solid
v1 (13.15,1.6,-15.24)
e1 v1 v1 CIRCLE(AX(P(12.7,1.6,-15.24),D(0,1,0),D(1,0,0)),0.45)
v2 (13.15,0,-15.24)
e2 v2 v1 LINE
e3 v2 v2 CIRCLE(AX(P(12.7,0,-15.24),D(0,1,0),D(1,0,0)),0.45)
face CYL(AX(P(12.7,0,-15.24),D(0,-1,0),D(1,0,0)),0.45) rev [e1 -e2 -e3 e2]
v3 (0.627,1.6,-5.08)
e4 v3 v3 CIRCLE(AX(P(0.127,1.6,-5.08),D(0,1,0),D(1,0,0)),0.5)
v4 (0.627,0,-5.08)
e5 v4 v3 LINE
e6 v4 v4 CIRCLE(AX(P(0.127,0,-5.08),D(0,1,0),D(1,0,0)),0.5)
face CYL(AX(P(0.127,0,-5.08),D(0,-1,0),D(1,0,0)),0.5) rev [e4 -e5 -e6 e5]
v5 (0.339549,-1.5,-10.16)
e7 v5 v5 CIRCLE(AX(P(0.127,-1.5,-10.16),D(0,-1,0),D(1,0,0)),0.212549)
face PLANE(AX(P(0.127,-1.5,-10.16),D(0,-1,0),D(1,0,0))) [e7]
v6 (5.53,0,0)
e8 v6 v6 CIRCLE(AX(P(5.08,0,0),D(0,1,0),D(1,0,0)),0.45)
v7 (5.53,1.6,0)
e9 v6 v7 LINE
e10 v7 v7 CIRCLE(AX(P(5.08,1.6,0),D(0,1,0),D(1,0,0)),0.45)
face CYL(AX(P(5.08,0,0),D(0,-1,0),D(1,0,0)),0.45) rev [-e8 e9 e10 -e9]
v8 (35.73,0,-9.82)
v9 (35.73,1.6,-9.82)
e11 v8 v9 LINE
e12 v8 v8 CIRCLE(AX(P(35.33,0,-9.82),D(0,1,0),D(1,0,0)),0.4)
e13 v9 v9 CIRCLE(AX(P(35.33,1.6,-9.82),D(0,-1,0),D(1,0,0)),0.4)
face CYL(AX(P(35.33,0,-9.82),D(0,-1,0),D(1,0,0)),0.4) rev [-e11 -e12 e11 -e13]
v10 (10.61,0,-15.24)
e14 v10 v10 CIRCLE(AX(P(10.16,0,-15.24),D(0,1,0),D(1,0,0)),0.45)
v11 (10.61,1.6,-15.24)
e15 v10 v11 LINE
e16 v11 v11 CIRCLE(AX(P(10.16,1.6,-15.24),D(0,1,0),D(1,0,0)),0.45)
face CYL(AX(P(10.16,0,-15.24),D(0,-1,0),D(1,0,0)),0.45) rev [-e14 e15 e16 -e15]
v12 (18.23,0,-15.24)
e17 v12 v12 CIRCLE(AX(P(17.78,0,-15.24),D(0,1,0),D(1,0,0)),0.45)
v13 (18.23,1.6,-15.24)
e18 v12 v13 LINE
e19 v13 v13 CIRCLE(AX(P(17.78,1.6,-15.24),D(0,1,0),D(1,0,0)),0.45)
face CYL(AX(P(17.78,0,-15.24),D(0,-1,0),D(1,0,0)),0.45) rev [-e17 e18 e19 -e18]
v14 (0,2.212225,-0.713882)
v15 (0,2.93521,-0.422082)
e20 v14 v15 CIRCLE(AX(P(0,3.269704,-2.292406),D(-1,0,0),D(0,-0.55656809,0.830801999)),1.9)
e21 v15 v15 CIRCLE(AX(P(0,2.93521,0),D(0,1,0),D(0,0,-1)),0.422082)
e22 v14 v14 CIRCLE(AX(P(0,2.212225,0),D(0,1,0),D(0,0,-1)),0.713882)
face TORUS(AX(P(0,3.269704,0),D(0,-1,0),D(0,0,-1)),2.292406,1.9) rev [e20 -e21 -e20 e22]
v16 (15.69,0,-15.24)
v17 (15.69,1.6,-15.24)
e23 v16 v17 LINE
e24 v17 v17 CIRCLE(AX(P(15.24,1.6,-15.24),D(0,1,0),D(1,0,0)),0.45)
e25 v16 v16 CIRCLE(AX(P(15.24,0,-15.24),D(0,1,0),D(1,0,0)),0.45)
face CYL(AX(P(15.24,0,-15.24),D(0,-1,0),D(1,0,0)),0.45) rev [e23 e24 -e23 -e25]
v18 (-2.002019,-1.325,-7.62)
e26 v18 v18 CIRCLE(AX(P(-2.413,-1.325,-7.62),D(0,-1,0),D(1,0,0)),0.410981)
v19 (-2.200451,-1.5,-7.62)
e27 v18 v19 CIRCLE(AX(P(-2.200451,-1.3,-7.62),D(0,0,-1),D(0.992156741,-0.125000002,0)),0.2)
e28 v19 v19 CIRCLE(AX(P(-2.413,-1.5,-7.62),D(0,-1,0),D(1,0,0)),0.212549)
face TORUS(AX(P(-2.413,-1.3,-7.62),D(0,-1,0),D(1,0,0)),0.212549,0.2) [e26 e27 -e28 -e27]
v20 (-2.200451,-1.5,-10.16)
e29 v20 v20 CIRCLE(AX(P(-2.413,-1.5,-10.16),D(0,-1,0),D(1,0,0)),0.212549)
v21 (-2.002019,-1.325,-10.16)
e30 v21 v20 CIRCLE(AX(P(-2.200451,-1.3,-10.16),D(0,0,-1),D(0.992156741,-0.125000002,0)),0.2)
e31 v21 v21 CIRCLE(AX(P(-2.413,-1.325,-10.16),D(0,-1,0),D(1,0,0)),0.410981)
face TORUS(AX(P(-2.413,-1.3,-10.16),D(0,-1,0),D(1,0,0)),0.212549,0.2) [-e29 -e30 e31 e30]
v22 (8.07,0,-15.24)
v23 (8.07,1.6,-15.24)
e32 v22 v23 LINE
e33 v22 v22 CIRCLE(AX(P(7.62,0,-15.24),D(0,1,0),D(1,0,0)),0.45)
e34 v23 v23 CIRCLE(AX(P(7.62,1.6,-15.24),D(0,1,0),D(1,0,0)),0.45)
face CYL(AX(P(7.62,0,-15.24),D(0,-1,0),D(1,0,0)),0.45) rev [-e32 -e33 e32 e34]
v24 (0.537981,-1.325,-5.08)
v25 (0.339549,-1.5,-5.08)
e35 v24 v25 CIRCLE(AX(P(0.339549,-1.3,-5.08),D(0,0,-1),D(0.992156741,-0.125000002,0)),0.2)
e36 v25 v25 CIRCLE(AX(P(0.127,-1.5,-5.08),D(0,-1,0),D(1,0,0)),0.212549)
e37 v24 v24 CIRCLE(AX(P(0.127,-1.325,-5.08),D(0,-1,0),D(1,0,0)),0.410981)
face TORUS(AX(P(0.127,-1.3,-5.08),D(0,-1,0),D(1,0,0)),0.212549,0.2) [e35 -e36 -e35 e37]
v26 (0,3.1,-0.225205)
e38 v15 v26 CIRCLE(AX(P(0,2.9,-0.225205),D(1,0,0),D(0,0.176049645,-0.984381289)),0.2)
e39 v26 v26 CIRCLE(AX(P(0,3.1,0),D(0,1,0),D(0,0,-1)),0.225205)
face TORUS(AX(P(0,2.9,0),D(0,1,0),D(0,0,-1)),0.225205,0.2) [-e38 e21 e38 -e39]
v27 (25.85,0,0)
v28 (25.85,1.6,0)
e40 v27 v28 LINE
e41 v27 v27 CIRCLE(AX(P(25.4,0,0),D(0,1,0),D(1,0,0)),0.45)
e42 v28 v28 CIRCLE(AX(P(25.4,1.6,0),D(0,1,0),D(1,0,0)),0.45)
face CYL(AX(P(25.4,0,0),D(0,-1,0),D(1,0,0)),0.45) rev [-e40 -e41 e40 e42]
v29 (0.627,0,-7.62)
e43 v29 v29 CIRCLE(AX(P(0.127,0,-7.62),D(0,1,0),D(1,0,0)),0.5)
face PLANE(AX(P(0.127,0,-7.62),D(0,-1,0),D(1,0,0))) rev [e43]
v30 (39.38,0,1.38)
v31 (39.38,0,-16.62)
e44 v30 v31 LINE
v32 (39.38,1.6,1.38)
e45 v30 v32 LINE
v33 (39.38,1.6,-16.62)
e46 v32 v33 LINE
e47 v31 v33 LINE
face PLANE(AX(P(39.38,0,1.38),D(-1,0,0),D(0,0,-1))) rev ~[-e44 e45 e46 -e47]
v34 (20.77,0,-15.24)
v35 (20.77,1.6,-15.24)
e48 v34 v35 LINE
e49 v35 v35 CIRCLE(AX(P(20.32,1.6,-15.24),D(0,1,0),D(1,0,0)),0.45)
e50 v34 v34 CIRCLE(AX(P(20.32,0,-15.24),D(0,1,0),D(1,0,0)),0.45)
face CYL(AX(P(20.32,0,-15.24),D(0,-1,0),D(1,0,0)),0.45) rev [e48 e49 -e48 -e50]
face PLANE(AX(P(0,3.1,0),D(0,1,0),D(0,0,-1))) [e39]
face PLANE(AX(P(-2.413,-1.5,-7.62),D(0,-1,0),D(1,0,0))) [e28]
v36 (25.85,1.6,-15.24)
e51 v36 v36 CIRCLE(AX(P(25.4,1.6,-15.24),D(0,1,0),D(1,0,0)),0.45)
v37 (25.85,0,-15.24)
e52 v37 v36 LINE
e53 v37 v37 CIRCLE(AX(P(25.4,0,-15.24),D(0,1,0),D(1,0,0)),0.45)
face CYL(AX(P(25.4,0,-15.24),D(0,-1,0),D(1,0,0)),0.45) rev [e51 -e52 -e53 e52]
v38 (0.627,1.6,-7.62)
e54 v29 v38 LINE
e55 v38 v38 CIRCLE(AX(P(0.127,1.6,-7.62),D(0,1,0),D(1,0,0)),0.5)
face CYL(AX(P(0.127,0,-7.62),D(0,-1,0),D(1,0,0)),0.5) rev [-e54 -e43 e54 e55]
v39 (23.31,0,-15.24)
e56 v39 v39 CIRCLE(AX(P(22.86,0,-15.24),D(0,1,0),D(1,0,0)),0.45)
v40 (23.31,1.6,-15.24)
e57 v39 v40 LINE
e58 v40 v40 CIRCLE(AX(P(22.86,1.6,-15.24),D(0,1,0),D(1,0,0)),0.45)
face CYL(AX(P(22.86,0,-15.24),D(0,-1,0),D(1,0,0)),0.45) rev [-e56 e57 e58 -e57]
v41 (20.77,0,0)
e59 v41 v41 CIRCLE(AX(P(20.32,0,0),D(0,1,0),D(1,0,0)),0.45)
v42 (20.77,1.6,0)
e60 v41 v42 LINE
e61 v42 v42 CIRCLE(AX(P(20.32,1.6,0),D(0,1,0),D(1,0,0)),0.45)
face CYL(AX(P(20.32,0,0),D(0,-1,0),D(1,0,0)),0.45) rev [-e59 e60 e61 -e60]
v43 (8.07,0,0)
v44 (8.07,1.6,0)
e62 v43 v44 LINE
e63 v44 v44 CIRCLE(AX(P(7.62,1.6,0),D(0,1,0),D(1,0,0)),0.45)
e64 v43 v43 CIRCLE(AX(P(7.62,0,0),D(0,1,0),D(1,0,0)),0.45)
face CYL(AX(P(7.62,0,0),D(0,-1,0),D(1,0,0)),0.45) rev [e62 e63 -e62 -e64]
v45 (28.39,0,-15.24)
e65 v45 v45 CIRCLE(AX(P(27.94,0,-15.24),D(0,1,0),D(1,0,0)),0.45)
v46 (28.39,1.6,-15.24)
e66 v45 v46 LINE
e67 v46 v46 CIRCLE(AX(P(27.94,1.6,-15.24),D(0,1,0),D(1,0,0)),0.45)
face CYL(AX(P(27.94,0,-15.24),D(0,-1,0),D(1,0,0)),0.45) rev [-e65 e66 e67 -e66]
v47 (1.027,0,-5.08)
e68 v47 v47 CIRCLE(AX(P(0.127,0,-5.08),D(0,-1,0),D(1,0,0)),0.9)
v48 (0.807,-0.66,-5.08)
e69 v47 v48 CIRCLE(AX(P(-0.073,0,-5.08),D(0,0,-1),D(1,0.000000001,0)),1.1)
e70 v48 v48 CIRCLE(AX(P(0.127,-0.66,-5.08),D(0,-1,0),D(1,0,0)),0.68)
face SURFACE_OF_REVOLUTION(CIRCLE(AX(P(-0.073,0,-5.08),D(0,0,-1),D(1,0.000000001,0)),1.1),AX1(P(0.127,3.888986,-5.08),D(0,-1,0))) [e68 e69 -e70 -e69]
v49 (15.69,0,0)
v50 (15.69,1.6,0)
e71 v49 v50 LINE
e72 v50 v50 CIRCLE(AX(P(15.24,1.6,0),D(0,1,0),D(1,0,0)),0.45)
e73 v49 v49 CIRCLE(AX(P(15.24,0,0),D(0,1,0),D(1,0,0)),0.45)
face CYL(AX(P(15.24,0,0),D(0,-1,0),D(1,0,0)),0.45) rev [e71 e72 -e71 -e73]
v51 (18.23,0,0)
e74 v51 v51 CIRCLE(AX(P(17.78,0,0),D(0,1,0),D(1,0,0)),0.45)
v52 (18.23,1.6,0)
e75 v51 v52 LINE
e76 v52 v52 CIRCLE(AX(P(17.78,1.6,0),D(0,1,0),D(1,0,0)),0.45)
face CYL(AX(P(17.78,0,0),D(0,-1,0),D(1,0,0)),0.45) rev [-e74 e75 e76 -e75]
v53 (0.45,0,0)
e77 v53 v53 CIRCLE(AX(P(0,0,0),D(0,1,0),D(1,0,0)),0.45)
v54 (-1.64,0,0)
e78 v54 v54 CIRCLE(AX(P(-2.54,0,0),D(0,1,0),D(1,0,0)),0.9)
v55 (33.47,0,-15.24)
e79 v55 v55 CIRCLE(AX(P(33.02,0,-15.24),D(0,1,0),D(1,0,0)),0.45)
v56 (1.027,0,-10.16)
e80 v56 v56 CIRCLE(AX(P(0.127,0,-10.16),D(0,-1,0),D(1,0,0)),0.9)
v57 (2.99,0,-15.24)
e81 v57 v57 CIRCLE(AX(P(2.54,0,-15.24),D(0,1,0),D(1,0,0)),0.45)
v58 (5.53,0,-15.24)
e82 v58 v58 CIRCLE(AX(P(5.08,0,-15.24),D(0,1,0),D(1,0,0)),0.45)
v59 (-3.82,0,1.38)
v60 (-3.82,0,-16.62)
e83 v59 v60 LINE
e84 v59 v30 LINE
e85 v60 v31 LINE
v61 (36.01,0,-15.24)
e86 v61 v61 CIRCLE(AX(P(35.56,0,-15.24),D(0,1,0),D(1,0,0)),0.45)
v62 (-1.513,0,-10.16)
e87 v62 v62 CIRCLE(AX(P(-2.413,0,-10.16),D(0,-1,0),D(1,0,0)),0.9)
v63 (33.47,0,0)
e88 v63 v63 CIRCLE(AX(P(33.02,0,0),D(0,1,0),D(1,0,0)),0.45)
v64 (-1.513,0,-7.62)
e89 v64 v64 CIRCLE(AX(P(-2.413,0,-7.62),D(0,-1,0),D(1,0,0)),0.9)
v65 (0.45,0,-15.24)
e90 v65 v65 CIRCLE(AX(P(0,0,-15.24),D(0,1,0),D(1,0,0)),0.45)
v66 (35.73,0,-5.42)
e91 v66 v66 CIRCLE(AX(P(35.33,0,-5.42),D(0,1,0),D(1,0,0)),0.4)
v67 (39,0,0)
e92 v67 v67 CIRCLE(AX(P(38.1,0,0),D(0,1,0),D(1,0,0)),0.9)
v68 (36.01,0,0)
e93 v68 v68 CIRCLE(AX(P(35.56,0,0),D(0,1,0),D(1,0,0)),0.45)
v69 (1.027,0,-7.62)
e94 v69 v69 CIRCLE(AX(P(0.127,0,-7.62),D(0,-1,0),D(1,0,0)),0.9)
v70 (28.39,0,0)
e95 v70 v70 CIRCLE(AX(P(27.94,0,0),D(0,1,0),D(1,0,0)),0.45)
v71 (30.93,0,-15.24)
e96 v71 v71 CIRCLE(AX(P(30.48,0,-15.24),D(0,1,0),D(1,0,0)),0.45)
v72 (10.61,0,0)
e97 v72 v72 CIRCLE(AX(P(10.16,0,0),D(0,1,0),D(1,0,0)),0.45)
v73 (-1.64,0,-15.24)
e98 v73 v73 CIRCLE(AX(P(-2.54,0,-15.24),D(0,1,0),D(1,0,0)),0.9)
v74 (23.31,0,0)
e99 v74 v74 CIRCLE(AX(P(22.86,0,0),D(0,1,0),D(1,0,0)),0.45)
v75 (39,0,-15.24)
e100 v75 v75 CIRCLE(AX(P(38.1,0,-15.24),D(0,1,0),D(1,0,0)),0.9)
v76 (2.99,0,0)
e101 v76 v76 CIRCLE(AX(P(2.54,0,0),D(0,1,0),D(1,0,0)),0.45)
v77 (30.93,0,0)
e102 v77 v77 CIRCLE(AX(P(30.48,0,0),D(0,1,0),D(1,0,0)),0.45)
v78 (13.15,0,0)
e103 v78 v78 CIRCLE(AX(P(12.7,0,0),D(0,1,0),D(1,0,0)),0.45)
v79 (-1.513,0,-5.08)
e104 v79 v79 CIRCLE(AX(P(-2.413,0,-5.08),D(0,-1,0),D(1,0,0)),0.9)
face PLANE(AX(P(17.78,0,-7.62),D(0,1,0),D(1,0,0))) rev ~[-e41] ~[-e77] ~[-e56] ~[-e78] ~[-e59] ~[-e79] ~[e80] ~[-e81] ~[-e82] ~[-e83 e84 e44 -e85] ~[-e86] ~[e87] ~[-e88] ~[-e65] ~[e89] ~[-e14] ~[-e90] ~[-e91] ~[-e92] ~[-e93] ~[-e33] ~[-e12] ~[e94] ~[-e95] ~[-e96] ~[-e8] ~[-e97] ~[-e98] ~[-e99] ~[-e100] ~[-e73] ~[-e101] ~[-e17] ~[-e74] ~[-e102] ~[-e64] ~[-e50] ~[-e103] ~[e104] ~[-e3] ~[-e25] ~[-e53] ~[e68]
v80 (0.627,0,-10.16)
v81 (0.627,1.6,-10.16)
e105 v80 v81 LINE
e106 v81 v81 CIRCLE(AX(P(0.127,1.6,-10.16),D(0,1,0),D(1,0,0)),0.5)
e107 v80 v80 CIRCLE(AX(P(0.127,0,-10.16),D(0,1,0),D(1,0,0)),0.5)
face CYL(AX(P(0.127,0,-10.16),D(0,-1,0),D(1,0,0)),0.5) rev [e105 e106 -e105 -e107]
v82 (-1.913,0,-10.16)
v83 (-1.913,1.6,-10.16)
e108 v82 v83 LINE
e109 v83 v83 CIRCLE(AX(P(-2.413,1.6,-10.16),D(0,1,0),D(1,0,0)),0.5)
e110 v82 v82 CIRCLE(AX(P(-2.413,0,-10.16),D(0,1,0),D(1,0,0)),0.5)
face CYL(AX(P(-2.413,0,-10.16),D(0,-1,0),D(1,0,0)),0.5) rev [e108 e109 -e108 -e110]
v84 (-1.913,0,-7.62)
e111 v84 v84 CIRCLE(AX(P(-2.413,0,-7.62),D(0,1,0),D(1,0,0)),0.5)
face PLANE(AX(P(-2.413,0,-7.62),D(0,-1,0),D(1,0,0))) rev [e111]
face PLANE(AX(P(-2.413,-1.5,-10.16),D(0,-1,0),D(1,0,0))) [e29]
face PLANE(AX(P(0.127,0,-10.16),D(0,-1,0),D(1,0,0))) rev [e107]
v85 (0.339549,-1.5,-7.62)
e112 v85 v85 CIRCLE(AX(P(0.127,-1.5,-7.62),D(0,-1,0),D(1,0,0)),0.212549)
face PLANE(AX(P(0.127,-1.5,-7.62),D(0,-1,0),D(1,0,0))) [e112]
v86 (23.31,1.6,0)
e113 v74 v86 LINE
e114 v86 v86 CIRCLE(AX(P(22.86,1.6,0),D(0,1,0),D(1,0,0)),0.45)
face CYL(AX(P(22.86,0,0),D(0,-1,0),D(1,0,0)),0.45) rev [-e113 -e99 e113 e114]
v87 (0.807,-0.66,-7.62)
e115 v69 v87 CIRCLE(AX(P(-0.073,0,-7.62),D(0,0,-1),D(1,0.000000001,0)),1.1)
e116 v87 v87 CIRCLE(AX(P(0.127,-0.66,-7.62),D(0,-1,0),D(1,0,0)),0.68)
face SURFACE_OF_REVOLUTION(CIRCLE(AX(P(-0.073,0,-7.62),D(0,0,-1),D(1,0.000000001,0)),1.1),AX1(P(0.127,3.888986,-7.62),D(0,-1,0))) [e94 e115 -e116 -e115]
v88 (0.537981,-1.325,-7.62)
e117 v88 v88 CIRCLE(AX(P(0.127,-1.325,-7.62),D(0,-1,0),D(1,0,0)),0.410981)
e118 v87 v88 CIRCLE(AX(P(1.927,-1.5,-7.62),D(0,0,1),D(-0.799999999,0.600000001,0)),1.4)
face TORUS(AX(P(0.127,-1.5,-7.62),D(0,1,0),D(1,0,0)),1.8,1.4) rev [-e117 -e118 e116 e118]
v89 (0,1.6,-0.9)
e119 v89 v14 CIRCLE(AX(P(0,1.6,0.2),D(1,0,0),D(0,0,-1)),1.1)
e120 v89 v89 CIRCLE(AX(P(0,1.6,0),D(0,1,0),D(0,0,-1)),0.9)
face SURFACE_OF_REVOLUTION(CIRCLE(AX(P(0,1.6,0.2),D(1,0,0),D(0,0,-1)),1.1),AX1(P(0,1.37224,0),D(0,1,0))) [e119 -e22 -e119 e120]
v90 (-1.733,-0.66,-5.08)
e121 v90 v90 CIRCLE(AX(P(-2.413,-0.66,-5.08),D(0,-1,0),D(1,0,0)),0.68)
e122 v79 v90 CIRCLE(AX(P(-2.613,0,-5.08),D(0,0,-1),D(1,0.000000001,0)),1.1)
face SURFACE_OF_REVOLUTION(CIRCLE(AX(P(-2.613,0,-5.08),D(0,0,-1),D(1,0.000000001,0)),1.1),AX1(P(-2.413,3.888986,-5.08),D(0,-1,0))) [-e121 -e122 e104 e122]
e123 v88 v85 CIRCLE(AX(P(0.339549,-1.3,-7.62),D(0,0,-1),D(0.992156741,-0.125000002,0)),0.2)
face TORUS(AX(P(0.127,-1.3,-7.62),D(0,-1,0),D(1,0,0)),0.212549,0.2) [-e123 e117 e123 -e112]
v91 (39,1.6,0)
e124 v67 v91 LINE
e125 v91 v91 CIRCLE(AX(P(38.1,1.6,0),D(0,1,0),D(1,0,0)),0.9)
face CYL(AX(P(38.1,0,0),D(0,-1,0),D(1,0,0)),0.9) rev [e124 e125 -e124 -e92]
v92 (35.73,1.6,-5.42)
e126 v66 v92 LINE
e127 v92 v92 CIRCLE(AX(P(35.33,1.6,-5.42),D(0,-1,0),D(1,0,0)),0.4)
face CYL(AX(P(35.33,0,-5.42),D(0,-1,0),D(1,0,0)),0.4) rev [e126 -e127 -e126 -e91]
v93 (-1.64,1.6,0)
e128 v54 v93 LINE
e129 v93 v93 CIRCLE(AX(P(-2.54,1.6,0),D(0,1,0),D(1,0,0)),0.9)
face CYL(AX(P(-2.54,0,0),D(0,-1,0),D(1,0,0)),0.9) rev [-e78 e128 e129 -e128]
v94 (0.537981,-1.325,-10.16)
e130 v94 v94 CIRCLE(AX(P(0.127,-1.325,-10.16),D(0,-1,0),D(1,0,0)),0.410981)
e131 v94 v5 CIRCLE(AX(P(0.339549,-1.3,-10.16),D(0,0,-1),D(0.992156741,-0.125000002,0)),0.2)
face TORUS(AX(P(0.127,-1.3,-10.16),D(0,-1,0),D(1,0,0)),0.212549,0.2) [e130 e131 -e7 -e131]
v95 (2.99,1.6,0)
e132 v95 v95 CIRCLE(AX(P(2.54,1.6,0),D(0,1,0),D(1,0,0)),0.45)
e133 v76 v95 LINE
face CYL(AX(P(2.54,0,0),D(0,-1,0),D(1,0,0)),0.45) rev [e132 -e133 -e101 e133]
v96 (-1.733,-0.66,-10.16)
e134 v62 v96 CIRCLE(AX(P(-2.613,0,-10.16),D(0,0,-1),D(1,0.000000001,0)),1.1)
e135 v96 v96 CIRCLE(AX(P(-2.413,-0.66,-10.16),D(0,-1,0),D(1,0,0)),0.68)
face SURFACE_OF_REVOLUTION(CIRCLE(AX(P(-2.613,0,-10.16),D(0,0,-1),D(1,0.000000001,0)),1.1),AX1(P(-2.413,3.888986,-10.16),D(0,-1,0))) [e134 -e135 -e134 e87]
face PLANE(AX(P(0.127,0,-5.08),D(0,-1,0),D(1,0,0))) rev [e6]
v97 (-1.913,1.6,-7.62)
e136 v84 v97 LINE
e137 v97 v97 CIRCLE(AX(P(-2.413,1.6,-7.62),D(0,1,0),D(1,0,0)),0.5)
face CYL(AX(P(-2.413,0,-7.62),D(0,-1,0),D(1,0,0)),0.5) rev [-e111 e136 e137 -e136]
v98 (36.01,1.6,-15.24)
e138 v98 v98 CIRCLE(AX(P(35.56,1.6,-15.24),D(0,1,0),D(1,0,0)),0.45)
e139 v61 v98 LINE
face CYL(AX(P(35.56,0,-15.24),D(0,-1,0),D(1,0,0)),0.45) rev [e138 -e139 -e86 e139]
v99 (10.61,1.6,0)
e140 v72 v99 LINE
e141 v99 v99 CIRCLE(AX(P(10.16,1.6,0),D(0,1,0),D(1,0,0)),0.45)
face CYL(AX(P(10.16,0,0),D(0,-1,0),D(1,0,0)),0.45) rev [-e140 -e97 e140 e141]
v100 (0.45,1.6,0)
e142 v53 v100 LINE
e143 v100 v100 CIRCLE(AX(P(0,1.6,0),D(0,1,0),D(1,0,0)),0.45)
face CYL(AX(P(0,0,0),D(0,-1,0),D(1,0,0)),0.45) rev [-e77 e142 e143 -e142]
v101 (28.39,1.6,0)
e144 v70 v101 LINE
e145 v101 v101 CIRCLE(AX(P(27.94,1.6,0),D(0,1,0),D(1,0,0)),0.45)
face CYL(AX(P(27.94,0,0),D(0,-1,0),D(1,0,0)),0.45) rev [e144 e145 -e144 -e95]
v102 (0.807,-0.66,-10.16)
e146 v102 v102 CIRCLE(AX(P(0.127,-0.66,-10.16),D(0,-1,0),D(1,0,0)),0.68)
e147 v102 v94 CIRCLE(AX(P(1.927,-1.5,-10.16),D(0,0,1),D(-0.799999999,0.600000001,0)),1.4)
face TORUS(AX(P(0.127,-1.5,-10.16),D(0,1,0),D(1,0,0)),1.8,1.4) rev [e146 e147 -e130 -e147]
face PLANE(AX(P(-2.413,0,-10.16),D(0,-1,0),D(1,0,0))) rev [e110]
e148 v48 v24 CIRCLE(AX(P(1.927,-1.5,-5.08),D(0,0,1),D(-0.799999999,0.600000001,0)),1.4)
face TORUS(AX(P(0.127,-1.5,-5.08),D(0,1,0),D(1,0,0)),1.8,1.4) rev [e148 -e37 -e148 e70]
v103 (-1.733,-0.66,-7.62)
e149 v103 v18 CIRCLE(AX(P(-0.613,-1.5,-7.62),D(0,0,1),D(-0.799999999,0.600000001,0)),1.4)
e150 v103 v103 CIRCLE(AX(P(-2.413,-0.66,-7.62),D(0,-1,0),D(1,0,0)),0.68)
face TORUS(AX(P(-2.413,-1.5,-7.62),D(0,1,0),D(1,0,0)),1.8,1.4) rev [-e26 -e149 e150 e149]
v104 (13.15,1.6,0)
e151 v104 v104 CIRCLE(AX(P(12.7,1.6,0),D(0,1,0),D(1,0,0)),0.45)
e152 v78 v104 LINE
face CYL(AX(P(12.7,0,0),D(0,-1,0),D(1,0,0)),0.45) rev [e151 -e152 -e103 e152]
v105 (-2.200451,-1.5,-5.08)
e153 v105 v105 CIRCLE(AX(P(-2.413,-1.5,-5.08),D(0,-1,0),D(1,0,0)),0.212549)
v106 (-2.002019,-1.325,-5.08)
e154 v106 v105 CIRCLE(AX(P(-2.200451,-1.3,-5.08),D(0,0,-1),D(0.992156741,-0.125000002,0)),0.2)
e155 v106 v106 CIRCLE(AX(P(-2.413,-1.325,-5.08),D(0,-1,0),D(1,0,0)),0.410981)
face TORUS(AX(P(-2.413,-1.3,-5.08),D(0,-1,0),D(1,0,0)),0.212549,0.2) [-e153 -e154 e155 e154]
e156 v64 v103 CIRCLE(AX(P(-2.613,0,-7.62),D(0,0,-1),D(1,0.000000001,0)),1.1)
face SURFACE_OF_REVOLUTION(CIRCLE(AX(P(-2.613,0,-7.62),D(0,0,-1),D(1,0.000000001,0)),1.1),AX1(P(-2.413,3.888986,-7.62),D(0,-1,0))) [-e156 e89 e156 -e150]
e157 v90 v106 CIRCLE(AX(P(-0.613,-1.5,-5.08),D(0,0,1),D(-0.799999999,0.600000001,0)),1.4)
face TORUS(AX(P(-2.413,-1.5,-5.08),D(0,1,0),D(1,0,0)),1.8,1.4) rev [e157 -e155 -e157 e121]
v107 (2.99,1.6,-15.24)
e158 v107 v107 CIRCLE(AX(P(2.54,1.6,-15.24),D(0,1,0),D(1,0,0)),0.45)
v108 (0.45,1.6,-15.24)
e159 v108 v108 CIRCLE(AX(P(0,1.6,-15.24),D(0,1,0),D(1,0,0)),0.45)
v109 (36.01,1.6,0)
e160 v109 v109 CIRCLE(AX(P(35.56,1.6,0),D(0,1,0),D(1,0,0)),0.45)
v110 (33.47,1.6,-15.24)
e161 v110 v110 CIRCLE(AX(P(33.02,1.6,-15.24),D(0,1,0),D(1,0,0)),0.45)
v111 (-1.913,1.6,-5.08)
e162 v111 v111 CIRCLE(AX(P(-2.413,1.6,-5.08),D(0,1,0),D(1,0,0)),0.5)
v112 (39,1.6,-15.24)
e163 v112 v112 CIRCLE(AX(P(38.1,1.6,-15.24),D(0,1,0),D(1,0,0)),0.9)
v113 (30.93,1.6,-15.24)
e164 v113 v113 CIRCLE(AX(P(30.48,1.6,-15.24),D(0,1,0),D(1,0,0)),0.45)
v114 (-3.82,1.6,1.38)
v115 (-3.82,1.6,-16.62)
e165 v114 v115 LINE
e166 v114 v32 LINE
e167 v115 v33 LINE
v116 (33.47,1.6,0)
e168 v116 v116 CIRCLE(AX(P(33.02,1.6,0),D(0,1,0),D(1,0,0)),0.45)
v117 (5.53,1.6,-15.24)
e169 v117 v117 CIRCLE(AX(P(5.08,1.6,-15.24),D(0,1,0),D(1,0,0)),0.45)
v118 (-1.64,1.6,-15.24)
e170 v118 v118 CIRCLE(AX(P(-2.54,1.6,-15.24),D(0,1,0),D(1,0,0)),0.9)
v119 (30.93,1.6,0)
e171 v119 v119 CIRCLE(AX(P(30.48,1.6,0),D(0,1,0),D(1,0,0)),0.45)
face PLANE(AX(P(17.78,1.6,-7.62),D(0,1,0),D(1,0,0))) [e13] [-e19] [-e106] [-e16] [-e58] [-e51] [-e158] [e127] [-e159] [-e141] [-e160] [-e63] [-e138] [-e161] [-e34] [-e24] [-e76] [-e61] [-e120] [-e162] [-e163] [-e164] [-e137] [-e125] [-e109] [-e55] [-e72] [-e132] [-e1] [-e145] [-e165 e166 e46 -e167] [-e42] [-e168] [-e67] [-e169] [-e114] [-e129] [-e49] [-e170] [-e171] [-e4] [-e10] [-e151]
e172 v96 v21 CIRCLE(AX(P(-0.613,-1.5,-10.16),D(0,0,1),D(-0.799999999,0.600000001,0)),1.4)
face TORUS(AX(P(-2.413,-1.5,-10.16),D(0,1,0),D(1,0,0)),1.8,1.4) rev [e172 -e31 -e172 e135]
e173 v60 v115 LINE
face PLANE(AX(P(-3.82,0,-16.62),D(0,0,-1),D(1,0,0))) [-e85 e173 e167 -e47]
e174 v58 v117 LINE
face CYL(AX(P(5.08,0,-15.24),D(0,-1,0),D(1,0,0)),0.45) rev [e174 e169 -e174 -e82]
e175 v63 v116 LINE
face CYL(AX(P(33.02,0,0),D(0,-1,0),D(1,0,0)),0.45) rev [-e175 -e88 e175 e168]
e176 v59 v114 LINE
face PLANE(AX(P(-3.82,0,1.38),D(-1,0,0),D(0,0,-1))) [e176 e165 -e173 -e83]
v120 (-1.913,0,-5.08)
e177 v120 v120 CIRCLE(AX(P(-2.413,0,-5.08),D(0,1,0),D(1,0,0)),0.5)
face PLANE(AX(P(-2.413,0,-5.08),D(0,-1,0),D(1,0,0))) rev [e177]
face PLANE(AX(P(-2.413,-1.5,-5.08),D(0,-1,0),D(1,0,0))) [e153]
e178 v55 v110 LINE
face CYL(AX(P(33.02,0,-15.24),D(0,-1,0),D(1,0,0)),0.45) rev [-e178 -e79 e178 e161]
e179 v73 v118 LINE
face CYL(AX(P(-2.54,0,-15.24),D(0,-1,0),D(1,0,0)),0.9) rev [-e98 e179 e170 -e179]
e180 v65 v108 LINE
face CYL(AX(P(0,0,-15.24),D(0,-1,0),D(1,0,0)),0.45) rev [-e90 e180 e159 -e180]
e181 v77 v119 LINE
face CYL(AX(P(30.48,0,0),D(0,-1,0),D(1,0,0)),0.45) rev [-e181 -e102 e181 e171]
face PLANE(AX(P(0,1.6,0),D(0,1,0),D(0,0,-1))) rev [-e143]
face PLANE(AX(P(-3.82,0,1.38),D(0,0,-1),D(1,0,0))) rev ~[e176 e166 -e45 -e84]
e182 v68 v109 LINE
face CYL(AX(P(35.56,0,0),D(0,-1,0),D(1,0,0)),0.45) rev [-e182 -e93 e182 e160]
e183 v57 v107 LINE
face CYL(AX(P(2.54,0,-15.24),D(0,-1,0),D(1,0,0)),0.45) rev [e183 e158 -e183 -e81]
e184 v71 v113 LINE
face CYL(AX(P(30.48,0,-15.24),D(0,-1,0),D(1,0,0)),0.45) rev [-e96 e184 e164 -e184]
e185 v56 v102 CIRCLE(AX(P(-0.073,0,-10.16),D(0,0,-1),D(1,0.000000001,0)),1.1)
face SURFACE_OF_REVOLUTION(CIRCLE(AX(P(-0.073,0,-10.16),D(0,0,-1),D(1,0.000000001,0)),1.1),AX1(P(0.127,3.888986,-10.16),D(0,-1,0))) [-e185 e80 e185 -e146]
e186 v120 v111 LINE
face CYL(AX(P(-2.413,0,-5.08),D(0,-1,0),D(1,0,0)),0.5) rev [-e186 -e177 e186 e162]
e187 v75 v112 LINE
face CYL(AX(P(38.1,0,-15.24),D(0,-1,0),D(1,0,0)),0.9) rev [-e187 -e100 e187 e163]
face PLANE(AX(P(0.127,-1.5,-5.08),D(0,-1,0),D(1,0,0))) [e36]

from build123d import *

# Parameters (mm, degrees)
SKETCH1_W            = 43.2
SKETCH1_H            = 18
BOSS_EXTRUDE2_DEPTH  = 1.6
SKETCH2_R            = 0.45
CUT_EXTRUDE2_DEPTH   = 1.6
LPATTERN1_COUNT      = 15
LPATTERN1_PITCH      = 2.54
SKETCH3_R            = 0.5
CUT_EXTRUDE4_DEPTH   = 1.6
SKETCH4_R            = 0.9
CUT_EXTRUDE5_DEPTH   = 1.6
LPATTERN3_COUNT      = 2
LPATTERN3_PITCH      = 2.54
LPATTERN3_COUNT_DIR2 = 3
LPATTERN3_PITCH_DIR2 = 2.54
SKETCH9_R            = 0.4
CUT_EXTRUDE6_DEPTH   = 10


with BuildPart() as part:
    # Sketch1 → Boss-Extrude2 (new body)
    with BuildSketch(Plane(origin=(0, 0, 0), x_dir=(1, 0, 0), z_dir=(0, 1, 0))):
        with Locations((17.78, 7.62)):
            Rectangle(SKETCH1_W, SKETCH1_H)
    extrude(amount=BOSS_EXTRUDE2_DEPTH)

    # Sketch2 → Cut-Extrude2 (cut)
    with BuildSketch(Plane(origin=(0, 0, 0), x_dir=(1, 0, 0), z_dir=(0, 1, 0))):
        Circle(SKETCH2_R)
        with Locations((0, 15.24)):
            Circle(SKETCH2_R)
    cut_extrude2 = extrude(amount=CUT_EXTRUDE2_DEPTH, mode=Mode.SUBTRACT)

    # LPattern1: Cut-Extrude2 ×15
    with Locations(*[(i * LPATTERN1_PITCH, 0, 0) for i in range(1, LPATTERN1_COUNT)]):
        add(cut_extrude2, mode=Mode.SUBTRACT)

    # Sketch3 → Cut-Extrude4 (cut)
    with BuildSketch(Plane(origin=(0, 0, 0), x_dir=(1, 0, 0), z_dir=(0, 1, 0))):
        with Locations((0.127, 10.16)):
            Circle(SKETCH3_R)
        with Locations((-2.413, 10.16)):
            Circle(SKETCH3_R)
        with Locations((-2.413, 7.62)):
            Circle(SKETCH3_R)
        with Locations((-2.413, 5.08)):
            Circle(SKETCH3_R)
        with Locations((0.127, 5.08)):
            Circle(SKETCH3_R)
        with Locations((0.127, 7.62)):
            Circle(SKETCH3_R)
    extrude(amount=CUT_EXTRUDE4_DEPTH, mode=Mode.SUBTRACT)

    # Sketch4 → Cut-Extrude5 (cut)
    with BuildSketch(Plane(origin=(0, 0, 0), x_dir=(1, 0, 0), z_dir=(0, 1, 0))):
        with Locations((38.1, 15.24)):
            Circle(SKETCH4_R)
        with Locations((38.1, 0)):
            Circle(SKETCH4_R)
        with Locations((-2.54, 0)):
            Circle(SKETCH4_R)
        with Locations((-2.54, 15.24)):
            Circle(SKETCH4_R)
    extrude(amount=CUT_EXTRUDE5_DEPTH, mode=Mode.SUBTRACT)

    # Sketch6 → Revolve1 (revolve)
    with BuildSketch(Plane(origin=(0, 0, 0), x_dir=(0, 0, -1), z_dir=(1, 0, 0))):
        with BuildLine():
            Line((0, 1.6), (0.9, 1.6))
            ThreePointArc((0.9, 1.6), (0.852442497, 1.91994498), (0.713882199, 2.212224898))
            ThreePointArc((0.713882199, 2.212224898), (0.530499248, 2.558589224), (0.422081551, 2.93520993))
            ThreePointArc((0.422081551, 2.93520993), (0.353575878, 3.053365554), (0.225205293, 3.1))
            Line((0.225205293, 3.1), (0, 3.1))
            Line((0, 3.1), (0, 1.6))
        make_face()
    revolve(axis=Axis((0, 1.372239532, 0), (0, 1, 0)))

    # Sketch7 → Revolve2 (revolve)
    with BuildSketch(Plane.XY.offset(-5.08)):
        with BuildLine():
            Line((0.127, 0), (1.027, 0))
            ThreePointArc((1.027, 0), (0.970551628, -0.347850543), (0.807, -0.66))
            ThreePointArc((0.807, -0.66), (0.629174555, -0.974977034), (0.537980562, -1.325))
            ThreePointArc((0.537980562, -1.325), (0.471836779, -1.45), (0.339549213, -1.5))
            Line((0.339549213, -1.5), (0.127, -1.5))
            Line((0.127, -1.5), (0.127, 0))
        make_face()
    revolve2 = revolve(axis=Axis((0.127, 3.888986093, -5.08), (0, -1, 0)))

    # LPattern3: Revolve2 2 × 3
    with Locations(*[(-i * LPATTERN3_PITCH, 0, -j * LPATTERN3_PITCH_DIR2) for i in range(LPATTERN3_COUNT) for j in range(LPATTERN3_COUNT_DIR2) if (i, j) != (0, 0)]):
        add(revolve2)

    # Sketch9 → Cut-Extrude6 (cut)
    with BuildSketch(Plane(origin=(0, 0, 0), x_dir=(1, 0, 0), z_dir=(0, 1, 0))):
        with Locations((35.33, 5.42)):
            Circle(SKETCH9_R)
        with Locations((35.33, 9.82)):
            Circle(SKETCH9_R)
    extrude(amount=CUT_EXTRUDE6_DEPTH, mode=Mode.SUBTRACT)


solid = part.part
